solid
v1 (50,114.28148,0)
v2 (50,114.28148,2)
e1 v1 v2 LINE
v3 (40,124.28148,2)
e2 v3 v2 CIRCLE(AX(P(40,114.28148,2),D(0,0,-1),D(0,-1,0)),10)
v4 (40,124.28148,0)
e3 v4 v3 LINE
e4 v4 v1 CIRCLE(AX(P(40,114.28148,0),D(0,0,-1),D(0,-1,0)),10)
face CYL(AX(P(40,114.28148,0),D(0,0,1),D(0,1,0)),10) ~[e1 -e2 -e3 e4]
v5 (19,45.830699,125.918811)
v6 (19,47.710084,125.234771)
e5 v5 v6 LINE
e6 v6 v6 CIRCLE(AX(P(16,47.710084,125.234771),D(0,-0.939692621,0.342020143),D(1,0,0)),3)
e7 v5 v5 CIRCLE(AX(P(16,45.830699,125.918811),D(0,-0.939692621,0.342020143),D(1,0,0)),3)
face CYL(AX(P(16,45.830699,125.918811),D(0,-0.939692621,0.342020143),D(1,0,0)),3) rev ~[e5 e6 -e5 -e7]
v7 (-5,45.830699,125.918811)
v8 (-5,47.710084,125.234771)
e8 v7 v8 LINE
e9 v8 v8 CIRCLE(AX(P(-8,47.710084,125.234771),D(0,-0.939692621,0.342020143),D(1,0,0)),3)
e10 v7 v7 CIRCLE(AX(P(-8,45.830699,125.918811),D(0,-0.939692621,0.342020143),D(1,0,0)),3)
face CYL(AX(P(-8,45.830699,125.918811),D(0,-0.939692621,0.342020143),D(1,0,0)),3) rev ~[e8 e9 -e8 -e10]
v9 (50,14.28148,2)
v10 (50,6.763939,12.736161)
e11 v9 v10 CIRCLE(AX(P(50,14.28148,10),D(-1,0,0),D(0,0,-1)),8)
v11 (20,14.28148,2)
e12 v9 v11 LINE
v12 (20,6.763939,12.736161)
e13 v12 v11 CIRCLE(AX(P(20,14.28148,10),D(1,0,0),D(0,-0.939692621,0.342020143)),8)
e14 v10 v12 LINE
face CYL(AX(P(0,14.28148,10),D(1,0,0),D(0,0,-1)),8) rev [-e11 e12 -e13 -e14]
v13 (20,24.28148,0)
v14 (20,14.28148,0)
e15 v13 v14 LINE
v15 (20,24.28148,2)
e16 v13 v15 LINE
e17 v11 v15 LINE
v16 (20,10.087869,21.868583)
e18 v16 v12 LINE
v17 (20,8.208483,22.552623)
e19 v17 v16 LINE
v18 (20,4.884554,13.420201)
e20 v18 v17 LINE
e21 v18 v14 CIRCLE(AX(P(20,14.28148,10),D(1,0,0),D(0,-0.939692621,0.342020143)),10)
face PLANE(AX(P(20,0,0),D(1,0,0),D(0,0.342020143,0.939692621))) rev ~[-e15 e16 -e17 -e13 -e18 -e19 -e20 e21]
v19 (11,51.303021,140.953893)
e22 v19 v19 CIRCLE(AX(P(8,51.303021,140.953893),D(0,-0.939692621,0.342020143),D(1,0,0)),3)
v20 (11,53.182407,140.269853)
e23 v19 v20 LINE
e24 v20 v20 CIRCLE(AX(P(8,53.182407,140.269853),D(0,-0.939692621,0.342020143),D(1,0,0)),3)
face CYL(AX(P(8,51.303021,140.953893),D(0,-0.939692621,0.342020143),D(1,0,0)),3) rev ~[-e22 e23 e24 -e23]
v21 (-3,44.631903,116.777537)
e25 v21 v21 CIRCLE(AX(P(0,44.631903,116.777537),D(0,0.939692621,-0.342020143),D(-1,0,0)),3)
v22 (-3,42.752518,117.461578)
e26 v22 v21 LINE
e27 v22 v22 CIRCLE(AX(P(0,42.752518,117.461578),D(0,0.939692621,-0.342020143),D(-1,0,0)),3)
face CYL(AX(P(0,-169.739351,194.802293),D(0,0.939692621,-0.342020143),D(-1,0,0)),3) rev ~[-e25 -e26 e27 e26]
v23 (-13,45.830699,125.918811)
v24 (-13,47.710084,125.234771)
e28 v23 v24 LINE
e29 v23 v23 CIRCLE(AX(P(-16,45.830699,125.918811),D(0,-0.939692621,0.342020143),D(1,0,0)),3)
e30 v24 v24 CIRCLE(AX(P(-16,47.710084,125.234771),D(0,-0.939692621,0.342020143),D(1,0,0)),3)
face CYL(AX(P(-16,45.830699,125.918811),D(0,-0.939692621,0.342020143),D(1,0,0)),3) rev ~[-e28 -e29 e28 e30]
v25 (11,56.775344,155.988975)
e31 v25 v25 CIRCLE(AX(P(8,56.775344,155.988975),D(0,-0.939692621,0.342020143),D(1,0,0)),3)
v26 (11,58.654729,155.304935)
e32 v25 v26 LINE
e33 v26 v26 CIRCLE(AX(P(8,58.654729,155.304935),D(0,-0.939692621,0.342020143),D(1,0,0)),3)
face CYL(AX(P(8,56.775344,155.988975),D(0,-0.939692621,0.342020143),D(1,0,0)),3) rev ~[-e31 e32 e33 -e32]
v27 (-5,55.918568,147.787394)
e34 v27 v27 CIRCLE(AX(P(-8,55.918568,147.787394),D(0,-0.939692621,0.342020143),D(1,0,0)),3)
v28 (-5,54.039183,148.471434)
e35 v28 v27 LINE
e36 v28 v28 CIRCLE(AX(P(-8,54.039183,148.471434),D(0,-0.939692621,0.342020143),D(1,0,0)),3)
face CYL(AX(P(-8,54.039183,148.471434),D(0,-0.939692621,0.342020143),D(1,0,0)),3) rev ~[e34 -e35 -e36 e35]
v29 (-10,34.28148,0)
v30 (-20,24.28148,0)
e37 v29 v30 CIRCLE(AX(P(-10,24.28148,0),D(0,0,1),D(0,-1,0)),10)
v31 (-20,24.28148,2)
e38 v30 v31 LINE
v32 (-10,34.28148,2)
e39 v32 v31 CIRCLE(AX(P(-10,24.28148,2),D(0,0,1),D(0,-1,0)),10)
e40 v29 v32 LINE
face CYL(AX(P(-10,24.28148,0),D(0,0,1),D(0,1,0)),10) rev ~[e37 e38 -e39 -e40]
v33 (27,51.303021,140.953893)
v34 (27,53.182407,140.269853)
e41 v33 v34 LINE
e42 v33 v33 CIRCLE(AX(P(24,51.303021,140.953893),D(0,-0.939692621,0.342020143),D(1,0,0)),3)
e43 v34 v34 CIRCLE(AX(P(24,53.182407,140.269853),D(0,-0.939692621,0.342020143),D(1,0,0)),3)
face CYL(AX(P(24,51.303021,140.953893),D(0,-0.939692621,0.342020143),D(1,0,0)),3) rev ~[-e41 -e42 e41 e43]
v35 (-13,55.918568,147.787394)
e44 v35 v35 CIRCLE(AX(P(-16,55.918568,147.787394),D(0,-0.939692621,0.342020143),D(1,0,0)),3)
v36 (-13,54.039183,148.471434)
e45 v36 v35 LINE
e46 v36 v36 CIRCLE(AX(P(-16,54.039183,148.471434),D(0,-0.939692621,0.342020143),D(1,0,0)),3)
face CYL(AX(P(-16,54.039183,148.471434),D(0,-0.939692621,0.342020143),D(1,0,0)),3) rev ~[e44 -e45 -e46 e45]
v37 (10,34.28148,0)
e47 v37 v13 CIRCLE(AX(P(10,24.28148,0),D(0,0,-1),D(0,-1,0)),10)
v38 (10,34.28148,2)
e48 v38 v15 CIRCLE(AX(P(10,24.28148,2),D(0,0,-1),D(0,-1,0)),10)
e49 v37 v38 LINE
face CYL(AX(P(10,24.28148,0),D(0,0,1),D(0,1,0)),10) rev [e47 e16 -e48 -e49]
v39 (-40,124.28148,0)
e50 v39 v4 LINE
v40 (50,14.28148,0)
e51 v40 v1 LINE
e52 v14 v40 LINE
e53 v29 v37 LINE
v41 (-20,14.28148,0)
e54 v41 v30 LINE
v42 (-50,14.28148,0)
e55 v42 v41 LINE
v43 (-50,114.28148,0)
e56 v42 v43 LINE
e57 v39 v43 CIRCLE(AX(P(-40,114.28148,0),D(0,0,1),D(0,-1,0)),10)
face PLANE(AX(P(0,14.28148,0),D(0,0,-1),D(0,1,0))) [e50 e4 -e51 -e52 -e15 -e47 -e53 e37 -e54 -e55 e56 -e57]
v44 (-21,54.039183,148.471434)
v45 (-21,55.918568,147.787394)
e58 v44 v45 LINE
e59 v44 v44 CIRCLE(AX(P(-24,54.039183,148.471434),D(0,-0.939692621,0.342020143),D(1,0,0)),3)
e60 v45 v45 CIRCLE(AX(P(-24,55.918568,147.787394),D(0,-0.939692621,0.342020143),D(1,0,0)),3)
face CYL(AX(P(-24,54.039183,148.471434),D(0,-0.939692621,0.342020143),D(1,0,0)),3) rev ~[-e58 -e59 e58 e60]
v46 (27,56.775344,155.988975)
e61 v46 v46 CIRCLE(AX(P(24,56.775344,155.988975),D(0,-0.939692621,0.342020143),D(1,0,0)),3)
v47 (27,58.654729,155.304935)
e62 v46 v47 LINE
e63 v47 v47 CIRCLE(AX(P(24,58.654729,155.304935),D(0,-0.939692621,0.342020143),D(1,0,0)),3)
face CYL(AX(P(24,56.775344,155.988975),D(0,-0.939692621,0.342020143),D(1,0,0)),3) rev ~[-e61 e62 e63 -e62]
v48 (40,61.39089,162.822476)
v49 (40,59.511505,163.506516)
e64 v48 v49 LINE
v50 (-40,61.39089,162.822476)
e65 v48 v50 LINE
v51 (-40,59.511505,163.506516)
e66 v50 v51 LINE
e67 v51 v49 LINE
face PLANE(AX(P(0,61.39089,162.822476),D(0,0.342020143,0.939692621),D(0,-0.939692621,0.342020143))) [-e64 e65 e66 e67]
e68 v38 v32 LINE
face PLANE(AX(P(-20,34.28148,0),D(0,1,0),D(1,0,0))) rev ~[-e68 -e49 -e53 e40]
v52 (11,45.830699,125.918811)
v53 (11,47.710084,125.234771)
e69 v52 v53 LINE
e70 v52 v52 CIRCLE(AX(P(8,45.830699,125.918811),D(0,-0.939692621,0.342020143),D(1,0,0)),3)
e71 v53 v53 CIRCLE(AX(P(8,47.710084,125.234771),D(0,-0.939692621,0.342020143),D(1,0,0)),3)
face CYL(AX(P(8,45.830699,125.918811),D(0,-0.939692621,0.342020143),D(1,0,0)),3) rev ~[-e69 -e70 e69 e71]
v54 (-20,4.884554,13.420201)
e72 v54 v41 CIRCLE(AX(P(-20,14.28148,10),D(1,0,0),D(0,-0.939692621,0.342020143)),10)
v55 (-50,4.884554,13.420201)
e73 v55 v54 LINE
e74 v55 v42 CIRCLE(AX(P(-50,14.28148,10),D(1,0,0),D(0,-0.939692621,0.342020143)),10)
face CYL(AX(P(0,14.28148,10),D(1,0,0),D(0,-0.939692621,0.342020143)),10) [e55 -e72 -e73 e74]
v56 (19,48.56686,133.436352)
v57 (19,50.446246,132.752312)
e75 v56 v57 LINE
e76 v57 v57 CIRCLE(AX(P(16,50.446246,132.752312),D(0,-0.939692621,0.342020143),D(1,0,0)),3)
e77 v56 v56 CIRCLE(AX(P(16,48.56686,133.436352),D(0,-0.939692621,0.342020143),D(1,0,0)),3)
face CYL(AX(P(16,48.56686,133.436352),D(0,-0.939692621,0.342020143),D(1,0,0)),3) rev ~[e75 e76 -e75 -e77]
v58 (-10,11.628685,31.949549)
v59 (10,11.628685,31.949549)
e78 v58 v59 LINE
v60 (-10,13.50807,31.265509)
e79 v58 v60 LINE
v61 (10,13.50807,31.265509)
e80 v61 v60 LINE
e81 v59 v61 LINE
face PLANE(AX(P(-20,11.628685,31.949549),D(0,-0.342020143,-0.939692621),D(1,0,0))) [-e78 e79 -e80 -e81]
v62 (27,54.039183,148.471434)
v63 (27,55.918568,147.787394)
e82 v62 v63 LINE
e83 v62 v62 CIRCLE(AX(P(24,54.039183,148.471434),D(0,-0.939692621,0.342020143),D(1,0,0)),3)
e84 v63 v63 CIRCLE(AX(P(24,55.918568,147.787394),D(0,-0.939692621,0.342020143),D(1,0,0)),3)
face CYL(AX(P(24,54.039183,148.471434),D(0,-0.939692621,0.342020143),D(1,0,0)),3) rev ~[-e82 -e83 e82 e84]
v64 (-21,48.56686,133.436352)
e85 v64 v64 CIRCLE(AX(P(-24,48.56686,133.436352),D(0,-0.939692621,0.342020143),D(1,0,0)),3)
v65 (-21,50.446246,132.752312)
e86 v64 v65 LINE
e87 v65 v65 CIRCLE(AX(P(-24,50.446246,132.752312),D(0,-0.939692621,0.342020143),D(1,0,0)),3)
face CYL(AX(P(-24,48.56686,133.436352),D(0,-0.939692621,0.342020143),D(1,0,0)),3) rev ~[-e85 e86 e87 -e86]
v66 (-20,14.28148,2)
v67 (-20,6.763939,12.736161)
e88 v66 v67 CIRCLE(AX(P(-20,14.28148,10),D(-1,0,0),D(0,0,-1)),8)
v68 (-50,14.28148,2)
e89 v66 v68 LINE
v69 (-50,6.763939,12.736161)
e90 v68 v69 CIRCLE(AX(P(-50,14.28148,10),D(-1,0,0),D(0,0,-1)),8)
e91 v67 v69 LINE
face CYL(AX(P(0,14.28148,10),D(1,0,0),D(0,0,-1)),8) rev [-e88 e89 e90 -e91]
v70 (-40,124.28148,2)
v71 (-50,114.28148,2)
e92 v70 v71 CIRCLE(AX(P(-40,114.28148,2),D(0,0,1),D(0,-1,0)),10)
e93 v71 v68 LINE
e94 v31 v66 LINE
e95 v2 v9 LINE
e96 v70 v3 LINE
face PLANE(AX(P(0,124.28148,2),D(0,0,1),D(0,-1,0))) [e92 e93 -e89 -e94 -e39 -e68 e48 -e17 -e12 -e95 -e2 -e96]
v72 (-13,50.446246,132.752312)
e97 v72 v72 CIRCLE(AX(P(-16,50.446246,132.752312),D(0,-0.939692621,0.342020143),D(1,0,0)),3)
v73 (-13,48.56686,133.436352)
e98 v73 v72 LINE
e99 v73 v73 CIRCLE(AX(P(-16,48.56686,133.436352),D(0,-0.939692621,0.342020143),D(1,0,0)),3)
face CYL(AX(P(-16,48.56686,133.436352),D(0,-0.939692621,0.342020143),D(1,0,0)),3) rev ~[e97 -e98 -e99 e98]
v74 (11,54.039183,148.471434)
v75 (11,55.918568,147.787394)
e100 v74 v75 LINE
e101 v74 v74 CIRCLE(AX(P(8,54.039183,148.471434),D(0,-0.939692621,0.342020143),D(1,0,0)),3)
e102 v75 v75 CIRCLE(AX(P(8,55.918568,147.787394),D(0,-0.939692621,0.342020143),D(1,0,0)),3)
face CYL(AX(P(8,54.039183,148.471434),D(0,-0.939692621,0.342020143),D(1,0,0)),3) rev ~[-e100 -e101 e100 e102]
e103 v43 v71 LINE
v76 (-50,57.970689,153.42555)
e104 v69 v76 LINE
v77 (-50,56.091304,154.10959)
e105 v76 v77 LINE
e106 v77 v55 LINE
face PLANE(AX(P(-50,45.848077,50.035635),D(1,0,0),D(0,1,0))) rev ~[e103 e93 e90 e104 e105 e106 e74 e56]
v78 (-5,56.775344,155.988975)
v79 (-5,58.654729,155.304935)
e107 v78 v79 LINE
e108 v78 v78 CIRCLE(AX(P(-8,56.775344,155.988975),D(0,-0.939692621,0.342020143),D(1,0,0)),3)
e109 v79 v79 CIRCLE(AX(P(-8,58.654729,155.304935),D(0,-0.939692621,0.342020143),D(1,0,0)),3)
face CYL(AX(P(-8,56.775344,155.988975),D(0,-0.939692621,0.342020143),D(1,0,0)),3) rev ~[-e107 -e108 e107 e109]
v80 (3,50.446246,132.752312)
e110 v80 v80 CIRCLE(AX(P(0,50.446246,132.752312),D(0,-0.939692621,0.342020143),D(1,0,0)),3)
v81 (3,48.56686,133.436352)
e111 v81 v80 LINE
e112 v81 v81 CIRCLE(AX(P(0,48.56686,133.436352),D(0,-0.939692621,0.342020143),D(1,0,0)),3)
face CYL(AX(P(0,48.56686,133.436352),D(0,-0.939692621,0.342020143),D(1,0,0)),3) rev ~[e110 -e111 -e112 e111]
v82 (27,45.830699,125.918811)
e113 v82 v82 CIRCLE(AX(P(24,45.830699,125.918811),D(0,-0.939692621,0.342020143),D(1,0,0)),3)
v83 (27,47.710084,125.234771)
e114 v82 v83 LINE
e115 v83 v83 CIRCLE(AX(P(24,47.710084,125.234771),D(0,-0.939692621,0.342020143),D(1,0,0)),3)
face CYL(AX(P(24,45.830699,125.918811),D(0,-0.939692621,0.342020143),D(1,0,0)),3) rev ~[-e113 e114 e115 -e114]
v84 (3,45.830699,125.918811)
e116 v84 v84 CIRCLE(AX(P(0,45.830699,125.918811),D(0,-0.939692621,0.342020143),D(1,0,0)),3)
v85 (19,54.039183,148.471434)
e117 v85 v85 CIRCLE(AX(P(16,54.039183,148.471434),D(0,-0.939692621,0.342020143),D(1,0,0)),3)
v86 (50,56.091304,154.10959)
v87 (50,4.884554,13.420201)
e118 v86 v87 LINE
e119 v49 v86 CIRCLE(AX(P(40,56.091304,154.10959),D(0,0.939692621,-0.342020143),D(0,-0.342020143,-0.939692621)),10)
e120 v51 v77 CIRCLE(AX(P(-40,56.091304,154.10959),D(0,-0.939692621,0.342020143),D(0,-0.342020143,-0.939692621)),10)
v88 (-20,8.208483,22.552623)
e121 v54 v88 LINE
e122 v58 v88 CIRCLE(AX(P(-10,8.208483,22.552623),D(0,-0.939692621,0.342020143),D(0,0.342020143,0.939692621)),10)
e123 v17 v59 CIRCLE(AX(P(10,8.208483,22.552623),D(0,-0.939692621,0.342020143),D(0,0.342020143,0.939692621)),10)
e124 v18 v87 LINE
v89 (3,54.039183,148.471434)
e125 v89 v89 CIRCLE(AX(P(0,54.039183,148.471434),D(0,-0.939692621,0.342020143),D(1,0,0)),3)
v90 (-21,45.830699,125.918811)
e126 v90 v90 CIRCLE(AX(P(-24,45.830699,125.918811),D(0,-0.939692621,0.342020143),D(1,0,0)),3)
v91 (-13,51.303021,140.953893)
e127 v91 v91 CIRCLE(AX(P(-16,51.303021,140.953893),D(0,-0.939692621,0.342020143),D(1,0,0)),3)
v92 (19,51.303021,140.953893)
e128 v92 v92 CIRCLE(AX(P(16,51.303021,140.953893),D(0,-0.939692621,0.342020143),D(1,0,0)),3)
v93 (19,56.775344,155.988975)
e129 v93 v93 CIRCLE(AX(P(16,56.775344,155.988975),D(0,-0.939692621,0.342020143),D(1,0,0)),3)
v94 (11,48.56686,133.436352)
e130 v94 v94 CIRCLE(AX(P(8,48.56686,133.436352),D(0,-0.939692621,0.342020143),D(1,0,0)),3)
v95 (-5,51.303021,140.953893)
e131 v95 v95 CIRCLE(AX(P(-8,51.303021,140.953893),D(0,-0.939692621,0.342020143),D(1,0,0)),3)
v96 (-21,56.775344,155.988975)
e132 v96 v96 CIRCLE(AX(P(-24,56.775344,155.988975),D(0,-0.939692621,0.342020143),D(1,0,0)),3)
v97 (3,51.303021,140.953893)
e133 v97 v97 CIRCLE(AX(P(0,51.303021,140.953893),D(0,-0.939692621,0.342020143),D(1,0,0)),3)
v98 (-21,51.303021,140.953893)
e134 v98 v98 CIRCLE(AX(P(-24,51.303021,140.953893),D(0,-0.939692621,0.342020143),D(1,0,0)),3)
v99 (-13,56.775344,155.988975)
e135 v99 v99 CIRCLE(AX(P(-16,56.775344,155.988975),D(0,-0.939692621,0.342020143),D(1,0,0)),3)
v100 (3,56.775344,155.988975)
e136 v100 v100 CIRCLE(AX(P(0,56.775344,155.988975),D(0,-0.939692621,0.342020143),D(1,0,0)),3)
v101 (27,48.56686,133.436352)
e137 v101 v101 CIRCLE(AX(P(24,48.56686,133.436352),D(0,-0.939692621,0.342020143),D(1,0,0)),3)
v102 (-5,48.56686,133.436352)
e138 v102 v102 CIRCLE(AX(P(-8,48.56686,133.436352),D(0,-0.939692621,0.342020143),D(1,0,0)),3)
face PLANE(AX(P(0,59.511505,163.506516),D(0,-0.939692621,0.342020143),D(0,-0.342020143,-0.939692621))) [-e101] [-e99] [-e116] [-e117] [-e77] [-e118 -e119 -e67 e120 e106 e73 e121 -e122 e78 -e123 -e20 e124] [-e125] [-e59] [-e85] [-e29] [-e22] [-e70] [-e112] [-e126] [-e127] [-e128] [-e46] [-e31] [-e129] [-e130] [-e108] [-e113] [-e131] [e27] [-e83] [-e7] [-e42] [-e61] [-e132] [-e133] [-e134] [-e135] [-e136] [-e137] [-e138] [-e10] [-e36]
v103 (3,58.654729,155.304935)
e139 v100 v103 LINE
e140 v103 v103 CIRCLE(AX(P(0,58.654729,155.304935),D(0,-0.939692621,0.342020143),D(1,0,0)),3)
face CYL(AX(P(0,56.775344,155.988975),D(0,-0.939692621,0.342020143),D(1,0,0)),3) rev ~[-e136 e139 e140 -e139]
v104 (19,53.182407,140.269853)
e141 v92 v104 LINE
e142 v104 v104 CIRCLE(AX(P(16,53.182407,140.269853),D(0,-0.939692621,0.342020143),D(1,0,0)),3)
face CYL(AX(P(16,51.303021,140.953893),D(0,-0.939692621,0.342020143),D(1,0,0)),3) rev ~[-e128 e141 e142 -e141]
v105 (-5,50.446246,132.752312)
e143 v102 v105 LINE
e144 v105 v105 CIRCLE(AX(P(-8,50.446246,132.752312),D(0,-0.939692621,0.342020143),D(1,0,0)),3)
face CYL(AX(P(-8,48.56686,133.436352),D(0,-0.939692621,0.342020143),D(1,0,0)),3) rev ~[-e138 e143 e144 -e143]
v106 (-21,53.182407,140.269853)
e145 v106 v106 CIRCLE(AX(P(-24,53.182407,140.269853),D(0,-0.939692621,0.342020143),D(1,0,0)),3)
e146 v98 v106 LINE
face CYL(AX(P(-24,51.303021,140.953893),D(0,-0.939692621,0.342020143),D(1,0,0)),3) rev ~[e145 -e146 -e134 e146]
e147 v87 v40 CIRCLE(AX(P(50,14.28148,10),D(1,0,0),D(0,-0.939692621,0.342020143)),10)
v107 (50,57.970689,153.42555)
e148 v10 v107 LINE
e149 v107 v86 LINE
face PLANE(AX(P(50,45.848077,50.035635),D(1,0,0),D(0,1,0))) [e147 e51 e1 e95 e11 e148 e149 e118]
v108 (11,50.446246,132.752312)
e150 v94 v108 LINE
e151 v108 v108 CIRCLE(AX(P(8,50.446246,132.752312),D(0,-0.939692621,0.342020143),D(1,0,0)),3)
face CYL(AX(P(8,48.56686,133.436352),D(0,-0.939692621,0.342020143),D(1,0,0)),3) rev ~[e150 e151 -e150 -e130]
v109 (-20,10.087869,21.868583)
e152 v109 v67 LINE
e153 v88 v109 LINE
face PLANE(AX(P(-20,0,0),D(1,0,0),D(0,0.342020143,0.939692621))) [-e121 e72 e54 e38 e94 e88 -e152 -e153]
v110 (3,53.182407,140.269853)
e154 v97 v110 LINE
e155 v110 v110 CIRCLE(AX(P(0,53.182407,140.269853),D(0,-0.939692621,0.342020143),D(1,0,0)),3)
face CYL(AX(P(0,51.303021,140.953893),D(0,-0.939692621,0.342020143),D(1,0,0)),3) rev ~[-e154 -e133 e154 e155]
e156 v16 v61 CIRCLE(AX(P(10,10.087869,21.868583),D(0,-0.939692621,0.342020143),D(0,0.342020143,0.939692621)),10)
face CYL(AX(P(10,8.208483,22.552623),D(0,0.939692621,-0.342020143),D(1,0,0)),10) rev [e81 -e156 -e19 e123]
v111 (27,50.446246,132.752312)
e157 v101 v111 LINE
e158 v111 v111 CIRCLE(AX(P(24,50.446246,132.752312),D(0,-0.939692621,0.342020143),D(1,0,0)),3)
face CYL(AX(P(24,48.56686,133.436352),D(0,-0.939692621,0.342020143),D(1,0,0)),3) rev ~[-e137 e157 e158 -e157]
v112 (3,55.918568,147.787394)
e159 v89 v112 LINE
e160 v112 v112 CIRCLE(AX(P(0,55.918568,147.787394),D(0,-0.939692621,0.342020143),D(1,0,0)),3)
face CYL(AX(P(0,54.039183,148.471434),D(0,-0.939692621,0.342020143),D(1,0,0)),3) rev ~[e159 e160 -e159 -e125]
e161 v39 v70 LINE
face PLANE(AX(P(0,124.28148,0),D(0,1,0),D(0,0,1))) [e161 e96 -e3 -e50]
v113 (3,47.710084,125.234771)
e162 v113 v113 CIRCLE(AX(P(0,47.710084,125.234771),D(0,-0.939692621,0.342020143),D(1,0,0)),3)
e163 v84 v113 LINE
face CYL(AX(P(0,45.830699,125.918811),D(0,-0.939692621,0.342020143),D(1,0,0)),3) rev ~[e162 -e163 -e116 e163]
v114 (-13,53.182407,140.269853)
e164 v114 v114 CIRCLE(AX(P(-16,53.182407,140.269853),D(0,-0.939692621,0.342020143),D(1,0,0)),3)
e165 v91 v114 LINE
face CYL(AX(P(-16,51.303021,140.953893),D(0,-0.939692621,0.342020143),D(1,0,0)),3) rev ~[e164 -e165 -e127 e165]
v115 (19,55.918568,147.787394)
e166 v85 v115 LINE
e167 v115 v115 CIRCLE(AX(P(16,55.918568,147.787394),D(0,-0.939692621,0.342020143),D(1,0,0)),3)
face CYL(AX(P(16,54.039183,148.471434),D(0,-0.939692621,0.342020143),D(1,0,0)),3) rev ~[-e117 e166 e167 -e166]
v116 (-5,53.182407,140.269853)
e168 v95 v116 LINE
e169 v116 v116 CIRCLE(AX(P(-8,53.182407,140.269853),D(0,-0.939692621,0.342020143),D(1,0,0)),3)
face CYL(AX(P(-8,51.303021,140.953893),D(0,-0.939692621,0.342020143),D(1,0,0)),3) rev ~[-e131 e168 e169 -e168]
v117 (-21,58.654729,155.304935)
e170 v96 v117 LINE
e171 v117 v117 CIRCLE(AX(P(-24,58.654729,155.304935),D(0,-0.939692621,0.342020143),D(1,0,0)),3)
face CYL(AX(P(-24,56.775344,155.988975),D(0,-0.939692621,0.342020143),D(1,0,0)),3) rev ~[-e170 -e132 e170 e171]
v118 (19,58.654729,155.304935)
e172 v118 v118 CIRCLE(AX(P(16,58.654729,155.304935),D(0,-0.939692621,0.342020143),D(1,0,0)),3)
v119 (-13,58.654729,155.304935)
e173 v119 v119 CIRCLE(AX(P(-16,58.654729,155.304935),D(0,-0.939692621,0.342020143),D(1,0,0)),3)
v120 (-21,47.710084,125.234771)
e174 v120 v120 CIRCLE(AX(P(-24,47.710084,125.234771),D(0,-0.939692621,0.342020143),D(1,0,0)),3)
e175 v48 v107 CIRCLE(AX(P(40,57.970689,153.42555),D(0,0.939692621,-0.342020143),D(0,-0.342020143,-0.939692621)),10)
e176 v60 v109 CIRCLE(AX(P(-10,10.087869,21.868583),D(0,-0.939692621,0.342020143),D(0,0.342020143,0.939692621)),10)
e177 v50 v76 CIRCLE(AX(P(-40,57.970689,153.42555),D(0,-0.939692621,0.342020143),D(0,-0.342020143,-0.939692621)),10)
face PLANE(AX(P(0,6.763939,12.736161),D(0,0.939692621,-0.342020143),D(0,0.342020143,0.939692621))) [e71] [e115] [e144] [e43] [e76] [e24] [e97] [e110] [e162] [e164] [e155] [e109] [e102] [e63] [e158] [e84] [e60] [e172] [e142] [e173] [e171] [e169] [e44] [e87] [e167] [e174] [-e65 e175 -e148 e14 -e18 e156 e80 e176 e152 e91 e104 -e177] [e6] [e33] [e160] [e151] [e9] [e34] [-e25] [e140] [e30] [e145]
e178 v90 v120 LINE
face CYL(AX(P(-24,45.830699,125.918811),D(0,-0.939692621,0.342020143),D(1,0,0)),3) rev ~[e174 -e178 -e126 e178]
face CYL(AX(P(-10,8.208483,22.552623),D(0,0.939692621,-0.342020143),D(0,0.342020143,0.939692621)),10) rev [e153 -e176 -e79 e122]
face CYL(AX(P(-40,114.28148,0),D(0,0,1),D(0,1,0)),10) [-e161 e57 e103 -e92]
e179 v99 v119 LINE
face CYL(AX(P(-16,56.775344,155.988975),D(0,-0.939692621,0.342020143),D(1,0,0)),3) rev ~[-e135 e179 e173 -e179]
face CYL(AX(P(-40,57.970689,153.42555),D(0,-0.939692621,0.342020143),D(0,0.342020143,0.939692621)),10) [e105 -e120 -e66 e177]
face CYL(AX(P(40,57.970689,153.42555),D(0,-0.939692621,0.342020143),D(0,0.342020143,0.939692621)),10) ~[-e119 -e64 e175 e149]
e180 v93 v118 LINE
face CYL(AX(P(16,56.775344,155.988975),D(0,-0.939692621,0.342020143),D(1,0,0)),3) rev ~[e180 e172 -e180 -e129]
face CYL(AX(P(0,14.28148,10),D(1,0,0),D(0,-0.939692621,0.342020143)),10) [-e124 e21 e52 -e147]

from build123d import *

# Parameters (mm, degrees)
F1_DEPTH  = 50
F2_R      = 10
F4_D      = 6
F5_R      = 3
F6_DEPTH  = 116.7873897197
F7_W      = 40
F7_H      = 34
F8_DEPTH  = 20
F9_W      = 40
F9_H      = 30
F10_DEPTH = 10
F11_R     = 10


with BuildPart() as f1:
    # F0 (on Right) → F1 (new body, symmetric)
    with BuildSketch(Plane.YZ):
        with BuildLine():
            Line((61.3908901802, 162.8224757301), (59.5115049387, 163.5065160167))
            Line((59.5115049387, 163.5065160167), (4.8845538596, 13.4202014333))
            ThreePointArc((4.8845538596, 13.4202014333), (6.0899596245, 4.2642356365), (14.2814800674, 0))
            Line((14.2814800674, 0), (124.2814800674, 0))
            Line((124.2814800674, 0), (124.2814800674, 2))
            Line((124.2814800674, 2), (14.2814800674, 2))
            ThreePointArc((14.2814800674, 2), (7.7282637131, 5.4113885092), (6.7639391011, 12.7361611466))
            Line((6.7639391011, 12.7361611466), (61.3908901802, 162.8224757301))
        make_face()
    extrude(amount=F1_DEPTH, both=True)

    # F2
    f2_edges = [f1.edges().sort_by_distance(p)[0] for p in [
        (-50, 60.451198, 163.164496),
        (50, 60.451198, 163.164496),
        (50, 124.28148, 1),
        (-50, 124.28148, 1),
    ]]
    fillet(f2_edges, radius=F2_R)

    # F4 (through all)
    with Locations(Plane(origin=(0, 0, 0), x_dir=(1, 0, 0), z_dir=(0, -0.9396926208, 0.3420201433))):
        with Locations((0, 125)):
            Hole(F4_D / 2)

    # F5 (on face) → F6 (cut, through all)
    with BuildSketch(Plane(origin=(0, 0, 0), x_dir=(1, 0, 0), z_dir=(0, -0.9396926208, 0.3420201433))):
        with Locations((-24, 134)):
            Circle(F5_R)
        with Locations((-24, 142)):
            Circle(F5_R)
        with Locations((-24, 150)):
            Circle(F5_R)
        with Locations((-24, 158)):
            Circle(F5_R)
        with Locations((-24, 166)):
            Circle(F5_R)
        with Locations((-16, 134)):
            Circle(F5_R)
        with Locations((-16, 142)):
            Circle(F5_R)
        with Locations((-16, 150)):
            Circle(F5_R)
        with Locations((-16, 158)):
            Circle(F5_R)
        with Locations((-16, 166)):
            Circle(F5_R)
        with Locations((-8, 134)):
            Circle(F5_R)
        with Locations((-8, 142)):
            Circle(F5_R)
        with Locations((-8, 150)):
            Circle(F5_R)
        with Locations((-8, 158)):
            Circle(F5_R)
        with Locations((-8, 166)):
            Circle(F5_R)
        with Locations((0, 134)):
            Circle(F5_R)
        with Locations((0, 142)):
            Circle(F5_R)
        with Locations((0, 150)):
            Circle(F5_R)
        with Locations((0, 158)):
            Circle(F5_R)
        with Locations((0, 166)):
            Circle(F5_R)
        with Locations((8, 134)):
            Circle(F5_R)
        with Locations((8, 142)):
            Circle(F5_R)
        with Locations((8, 150)):
            Circle(F5_R)
        with Locations((8, 158)):
            Circle(F5_R)
        with Locations((8, 166)):
            Circle(F5_R)
        with Locations((16, 134)):
            Circle(F5_R)
        with Locations((16, 142)):
            Circle(F5_R)
        with Locations((16, 150)):
            Circle(F5_R)
        with Locations((16, 158)):
            Circle(F5_R)
        with Locations((16, 166)):
            Circle(F5_R)
        with Locations((24, 134)):
            Circle(F5_R)
        with Locations((24, 142)):
            Circle(F5_R)
        with Locations((24, 150)):
            Circle(F5_R)
        with Locations((24, 158)):
            Circle(F5_R)
        with Locations((24, 166)):
            Circle(F5_R)
    extrude(amount=-F6_DEPTH, mode=Mode.SUBTRACT)

    # F7 (on face) → F8 (cut)
    with BuildSketch(Plane(origin=(0, 0, 0), x_dir=(1, 0, 0), z_dir=(0, -0.9396926208, 0.3420201433))):
        with Locations((0, 17)):
            Rectangle(F7_W, F7_H)
    extrude(amount=-F8_DEPTH, mode=Mode.SUBTRACT)

    # F9 (on face) → F10 (cut)
    with BuildSketch(Plane(origin=(0, 0, 0), x_dir=(1, 0, 0), z_dir=(0, 0, -1))):
        with Locations((0, -19.2814800674)):
            Rectangle(F9_W, F9_H)
    extrude(amount=-F10_DEPTH, mode=Mode.SUBTRACT)

    # F11
    f11_edges = [f1.edges().sort_by_distance(p)[0] for p in [
        (-20, 12.568377, 31.607529),
        (-20, 34.28148, 1),
        (20, 12.568377, 31.607529),
        (20, 34.28148, 1),
    ]]
    fillet(f11_edges, radius=F11_R)


solid = f1.part
